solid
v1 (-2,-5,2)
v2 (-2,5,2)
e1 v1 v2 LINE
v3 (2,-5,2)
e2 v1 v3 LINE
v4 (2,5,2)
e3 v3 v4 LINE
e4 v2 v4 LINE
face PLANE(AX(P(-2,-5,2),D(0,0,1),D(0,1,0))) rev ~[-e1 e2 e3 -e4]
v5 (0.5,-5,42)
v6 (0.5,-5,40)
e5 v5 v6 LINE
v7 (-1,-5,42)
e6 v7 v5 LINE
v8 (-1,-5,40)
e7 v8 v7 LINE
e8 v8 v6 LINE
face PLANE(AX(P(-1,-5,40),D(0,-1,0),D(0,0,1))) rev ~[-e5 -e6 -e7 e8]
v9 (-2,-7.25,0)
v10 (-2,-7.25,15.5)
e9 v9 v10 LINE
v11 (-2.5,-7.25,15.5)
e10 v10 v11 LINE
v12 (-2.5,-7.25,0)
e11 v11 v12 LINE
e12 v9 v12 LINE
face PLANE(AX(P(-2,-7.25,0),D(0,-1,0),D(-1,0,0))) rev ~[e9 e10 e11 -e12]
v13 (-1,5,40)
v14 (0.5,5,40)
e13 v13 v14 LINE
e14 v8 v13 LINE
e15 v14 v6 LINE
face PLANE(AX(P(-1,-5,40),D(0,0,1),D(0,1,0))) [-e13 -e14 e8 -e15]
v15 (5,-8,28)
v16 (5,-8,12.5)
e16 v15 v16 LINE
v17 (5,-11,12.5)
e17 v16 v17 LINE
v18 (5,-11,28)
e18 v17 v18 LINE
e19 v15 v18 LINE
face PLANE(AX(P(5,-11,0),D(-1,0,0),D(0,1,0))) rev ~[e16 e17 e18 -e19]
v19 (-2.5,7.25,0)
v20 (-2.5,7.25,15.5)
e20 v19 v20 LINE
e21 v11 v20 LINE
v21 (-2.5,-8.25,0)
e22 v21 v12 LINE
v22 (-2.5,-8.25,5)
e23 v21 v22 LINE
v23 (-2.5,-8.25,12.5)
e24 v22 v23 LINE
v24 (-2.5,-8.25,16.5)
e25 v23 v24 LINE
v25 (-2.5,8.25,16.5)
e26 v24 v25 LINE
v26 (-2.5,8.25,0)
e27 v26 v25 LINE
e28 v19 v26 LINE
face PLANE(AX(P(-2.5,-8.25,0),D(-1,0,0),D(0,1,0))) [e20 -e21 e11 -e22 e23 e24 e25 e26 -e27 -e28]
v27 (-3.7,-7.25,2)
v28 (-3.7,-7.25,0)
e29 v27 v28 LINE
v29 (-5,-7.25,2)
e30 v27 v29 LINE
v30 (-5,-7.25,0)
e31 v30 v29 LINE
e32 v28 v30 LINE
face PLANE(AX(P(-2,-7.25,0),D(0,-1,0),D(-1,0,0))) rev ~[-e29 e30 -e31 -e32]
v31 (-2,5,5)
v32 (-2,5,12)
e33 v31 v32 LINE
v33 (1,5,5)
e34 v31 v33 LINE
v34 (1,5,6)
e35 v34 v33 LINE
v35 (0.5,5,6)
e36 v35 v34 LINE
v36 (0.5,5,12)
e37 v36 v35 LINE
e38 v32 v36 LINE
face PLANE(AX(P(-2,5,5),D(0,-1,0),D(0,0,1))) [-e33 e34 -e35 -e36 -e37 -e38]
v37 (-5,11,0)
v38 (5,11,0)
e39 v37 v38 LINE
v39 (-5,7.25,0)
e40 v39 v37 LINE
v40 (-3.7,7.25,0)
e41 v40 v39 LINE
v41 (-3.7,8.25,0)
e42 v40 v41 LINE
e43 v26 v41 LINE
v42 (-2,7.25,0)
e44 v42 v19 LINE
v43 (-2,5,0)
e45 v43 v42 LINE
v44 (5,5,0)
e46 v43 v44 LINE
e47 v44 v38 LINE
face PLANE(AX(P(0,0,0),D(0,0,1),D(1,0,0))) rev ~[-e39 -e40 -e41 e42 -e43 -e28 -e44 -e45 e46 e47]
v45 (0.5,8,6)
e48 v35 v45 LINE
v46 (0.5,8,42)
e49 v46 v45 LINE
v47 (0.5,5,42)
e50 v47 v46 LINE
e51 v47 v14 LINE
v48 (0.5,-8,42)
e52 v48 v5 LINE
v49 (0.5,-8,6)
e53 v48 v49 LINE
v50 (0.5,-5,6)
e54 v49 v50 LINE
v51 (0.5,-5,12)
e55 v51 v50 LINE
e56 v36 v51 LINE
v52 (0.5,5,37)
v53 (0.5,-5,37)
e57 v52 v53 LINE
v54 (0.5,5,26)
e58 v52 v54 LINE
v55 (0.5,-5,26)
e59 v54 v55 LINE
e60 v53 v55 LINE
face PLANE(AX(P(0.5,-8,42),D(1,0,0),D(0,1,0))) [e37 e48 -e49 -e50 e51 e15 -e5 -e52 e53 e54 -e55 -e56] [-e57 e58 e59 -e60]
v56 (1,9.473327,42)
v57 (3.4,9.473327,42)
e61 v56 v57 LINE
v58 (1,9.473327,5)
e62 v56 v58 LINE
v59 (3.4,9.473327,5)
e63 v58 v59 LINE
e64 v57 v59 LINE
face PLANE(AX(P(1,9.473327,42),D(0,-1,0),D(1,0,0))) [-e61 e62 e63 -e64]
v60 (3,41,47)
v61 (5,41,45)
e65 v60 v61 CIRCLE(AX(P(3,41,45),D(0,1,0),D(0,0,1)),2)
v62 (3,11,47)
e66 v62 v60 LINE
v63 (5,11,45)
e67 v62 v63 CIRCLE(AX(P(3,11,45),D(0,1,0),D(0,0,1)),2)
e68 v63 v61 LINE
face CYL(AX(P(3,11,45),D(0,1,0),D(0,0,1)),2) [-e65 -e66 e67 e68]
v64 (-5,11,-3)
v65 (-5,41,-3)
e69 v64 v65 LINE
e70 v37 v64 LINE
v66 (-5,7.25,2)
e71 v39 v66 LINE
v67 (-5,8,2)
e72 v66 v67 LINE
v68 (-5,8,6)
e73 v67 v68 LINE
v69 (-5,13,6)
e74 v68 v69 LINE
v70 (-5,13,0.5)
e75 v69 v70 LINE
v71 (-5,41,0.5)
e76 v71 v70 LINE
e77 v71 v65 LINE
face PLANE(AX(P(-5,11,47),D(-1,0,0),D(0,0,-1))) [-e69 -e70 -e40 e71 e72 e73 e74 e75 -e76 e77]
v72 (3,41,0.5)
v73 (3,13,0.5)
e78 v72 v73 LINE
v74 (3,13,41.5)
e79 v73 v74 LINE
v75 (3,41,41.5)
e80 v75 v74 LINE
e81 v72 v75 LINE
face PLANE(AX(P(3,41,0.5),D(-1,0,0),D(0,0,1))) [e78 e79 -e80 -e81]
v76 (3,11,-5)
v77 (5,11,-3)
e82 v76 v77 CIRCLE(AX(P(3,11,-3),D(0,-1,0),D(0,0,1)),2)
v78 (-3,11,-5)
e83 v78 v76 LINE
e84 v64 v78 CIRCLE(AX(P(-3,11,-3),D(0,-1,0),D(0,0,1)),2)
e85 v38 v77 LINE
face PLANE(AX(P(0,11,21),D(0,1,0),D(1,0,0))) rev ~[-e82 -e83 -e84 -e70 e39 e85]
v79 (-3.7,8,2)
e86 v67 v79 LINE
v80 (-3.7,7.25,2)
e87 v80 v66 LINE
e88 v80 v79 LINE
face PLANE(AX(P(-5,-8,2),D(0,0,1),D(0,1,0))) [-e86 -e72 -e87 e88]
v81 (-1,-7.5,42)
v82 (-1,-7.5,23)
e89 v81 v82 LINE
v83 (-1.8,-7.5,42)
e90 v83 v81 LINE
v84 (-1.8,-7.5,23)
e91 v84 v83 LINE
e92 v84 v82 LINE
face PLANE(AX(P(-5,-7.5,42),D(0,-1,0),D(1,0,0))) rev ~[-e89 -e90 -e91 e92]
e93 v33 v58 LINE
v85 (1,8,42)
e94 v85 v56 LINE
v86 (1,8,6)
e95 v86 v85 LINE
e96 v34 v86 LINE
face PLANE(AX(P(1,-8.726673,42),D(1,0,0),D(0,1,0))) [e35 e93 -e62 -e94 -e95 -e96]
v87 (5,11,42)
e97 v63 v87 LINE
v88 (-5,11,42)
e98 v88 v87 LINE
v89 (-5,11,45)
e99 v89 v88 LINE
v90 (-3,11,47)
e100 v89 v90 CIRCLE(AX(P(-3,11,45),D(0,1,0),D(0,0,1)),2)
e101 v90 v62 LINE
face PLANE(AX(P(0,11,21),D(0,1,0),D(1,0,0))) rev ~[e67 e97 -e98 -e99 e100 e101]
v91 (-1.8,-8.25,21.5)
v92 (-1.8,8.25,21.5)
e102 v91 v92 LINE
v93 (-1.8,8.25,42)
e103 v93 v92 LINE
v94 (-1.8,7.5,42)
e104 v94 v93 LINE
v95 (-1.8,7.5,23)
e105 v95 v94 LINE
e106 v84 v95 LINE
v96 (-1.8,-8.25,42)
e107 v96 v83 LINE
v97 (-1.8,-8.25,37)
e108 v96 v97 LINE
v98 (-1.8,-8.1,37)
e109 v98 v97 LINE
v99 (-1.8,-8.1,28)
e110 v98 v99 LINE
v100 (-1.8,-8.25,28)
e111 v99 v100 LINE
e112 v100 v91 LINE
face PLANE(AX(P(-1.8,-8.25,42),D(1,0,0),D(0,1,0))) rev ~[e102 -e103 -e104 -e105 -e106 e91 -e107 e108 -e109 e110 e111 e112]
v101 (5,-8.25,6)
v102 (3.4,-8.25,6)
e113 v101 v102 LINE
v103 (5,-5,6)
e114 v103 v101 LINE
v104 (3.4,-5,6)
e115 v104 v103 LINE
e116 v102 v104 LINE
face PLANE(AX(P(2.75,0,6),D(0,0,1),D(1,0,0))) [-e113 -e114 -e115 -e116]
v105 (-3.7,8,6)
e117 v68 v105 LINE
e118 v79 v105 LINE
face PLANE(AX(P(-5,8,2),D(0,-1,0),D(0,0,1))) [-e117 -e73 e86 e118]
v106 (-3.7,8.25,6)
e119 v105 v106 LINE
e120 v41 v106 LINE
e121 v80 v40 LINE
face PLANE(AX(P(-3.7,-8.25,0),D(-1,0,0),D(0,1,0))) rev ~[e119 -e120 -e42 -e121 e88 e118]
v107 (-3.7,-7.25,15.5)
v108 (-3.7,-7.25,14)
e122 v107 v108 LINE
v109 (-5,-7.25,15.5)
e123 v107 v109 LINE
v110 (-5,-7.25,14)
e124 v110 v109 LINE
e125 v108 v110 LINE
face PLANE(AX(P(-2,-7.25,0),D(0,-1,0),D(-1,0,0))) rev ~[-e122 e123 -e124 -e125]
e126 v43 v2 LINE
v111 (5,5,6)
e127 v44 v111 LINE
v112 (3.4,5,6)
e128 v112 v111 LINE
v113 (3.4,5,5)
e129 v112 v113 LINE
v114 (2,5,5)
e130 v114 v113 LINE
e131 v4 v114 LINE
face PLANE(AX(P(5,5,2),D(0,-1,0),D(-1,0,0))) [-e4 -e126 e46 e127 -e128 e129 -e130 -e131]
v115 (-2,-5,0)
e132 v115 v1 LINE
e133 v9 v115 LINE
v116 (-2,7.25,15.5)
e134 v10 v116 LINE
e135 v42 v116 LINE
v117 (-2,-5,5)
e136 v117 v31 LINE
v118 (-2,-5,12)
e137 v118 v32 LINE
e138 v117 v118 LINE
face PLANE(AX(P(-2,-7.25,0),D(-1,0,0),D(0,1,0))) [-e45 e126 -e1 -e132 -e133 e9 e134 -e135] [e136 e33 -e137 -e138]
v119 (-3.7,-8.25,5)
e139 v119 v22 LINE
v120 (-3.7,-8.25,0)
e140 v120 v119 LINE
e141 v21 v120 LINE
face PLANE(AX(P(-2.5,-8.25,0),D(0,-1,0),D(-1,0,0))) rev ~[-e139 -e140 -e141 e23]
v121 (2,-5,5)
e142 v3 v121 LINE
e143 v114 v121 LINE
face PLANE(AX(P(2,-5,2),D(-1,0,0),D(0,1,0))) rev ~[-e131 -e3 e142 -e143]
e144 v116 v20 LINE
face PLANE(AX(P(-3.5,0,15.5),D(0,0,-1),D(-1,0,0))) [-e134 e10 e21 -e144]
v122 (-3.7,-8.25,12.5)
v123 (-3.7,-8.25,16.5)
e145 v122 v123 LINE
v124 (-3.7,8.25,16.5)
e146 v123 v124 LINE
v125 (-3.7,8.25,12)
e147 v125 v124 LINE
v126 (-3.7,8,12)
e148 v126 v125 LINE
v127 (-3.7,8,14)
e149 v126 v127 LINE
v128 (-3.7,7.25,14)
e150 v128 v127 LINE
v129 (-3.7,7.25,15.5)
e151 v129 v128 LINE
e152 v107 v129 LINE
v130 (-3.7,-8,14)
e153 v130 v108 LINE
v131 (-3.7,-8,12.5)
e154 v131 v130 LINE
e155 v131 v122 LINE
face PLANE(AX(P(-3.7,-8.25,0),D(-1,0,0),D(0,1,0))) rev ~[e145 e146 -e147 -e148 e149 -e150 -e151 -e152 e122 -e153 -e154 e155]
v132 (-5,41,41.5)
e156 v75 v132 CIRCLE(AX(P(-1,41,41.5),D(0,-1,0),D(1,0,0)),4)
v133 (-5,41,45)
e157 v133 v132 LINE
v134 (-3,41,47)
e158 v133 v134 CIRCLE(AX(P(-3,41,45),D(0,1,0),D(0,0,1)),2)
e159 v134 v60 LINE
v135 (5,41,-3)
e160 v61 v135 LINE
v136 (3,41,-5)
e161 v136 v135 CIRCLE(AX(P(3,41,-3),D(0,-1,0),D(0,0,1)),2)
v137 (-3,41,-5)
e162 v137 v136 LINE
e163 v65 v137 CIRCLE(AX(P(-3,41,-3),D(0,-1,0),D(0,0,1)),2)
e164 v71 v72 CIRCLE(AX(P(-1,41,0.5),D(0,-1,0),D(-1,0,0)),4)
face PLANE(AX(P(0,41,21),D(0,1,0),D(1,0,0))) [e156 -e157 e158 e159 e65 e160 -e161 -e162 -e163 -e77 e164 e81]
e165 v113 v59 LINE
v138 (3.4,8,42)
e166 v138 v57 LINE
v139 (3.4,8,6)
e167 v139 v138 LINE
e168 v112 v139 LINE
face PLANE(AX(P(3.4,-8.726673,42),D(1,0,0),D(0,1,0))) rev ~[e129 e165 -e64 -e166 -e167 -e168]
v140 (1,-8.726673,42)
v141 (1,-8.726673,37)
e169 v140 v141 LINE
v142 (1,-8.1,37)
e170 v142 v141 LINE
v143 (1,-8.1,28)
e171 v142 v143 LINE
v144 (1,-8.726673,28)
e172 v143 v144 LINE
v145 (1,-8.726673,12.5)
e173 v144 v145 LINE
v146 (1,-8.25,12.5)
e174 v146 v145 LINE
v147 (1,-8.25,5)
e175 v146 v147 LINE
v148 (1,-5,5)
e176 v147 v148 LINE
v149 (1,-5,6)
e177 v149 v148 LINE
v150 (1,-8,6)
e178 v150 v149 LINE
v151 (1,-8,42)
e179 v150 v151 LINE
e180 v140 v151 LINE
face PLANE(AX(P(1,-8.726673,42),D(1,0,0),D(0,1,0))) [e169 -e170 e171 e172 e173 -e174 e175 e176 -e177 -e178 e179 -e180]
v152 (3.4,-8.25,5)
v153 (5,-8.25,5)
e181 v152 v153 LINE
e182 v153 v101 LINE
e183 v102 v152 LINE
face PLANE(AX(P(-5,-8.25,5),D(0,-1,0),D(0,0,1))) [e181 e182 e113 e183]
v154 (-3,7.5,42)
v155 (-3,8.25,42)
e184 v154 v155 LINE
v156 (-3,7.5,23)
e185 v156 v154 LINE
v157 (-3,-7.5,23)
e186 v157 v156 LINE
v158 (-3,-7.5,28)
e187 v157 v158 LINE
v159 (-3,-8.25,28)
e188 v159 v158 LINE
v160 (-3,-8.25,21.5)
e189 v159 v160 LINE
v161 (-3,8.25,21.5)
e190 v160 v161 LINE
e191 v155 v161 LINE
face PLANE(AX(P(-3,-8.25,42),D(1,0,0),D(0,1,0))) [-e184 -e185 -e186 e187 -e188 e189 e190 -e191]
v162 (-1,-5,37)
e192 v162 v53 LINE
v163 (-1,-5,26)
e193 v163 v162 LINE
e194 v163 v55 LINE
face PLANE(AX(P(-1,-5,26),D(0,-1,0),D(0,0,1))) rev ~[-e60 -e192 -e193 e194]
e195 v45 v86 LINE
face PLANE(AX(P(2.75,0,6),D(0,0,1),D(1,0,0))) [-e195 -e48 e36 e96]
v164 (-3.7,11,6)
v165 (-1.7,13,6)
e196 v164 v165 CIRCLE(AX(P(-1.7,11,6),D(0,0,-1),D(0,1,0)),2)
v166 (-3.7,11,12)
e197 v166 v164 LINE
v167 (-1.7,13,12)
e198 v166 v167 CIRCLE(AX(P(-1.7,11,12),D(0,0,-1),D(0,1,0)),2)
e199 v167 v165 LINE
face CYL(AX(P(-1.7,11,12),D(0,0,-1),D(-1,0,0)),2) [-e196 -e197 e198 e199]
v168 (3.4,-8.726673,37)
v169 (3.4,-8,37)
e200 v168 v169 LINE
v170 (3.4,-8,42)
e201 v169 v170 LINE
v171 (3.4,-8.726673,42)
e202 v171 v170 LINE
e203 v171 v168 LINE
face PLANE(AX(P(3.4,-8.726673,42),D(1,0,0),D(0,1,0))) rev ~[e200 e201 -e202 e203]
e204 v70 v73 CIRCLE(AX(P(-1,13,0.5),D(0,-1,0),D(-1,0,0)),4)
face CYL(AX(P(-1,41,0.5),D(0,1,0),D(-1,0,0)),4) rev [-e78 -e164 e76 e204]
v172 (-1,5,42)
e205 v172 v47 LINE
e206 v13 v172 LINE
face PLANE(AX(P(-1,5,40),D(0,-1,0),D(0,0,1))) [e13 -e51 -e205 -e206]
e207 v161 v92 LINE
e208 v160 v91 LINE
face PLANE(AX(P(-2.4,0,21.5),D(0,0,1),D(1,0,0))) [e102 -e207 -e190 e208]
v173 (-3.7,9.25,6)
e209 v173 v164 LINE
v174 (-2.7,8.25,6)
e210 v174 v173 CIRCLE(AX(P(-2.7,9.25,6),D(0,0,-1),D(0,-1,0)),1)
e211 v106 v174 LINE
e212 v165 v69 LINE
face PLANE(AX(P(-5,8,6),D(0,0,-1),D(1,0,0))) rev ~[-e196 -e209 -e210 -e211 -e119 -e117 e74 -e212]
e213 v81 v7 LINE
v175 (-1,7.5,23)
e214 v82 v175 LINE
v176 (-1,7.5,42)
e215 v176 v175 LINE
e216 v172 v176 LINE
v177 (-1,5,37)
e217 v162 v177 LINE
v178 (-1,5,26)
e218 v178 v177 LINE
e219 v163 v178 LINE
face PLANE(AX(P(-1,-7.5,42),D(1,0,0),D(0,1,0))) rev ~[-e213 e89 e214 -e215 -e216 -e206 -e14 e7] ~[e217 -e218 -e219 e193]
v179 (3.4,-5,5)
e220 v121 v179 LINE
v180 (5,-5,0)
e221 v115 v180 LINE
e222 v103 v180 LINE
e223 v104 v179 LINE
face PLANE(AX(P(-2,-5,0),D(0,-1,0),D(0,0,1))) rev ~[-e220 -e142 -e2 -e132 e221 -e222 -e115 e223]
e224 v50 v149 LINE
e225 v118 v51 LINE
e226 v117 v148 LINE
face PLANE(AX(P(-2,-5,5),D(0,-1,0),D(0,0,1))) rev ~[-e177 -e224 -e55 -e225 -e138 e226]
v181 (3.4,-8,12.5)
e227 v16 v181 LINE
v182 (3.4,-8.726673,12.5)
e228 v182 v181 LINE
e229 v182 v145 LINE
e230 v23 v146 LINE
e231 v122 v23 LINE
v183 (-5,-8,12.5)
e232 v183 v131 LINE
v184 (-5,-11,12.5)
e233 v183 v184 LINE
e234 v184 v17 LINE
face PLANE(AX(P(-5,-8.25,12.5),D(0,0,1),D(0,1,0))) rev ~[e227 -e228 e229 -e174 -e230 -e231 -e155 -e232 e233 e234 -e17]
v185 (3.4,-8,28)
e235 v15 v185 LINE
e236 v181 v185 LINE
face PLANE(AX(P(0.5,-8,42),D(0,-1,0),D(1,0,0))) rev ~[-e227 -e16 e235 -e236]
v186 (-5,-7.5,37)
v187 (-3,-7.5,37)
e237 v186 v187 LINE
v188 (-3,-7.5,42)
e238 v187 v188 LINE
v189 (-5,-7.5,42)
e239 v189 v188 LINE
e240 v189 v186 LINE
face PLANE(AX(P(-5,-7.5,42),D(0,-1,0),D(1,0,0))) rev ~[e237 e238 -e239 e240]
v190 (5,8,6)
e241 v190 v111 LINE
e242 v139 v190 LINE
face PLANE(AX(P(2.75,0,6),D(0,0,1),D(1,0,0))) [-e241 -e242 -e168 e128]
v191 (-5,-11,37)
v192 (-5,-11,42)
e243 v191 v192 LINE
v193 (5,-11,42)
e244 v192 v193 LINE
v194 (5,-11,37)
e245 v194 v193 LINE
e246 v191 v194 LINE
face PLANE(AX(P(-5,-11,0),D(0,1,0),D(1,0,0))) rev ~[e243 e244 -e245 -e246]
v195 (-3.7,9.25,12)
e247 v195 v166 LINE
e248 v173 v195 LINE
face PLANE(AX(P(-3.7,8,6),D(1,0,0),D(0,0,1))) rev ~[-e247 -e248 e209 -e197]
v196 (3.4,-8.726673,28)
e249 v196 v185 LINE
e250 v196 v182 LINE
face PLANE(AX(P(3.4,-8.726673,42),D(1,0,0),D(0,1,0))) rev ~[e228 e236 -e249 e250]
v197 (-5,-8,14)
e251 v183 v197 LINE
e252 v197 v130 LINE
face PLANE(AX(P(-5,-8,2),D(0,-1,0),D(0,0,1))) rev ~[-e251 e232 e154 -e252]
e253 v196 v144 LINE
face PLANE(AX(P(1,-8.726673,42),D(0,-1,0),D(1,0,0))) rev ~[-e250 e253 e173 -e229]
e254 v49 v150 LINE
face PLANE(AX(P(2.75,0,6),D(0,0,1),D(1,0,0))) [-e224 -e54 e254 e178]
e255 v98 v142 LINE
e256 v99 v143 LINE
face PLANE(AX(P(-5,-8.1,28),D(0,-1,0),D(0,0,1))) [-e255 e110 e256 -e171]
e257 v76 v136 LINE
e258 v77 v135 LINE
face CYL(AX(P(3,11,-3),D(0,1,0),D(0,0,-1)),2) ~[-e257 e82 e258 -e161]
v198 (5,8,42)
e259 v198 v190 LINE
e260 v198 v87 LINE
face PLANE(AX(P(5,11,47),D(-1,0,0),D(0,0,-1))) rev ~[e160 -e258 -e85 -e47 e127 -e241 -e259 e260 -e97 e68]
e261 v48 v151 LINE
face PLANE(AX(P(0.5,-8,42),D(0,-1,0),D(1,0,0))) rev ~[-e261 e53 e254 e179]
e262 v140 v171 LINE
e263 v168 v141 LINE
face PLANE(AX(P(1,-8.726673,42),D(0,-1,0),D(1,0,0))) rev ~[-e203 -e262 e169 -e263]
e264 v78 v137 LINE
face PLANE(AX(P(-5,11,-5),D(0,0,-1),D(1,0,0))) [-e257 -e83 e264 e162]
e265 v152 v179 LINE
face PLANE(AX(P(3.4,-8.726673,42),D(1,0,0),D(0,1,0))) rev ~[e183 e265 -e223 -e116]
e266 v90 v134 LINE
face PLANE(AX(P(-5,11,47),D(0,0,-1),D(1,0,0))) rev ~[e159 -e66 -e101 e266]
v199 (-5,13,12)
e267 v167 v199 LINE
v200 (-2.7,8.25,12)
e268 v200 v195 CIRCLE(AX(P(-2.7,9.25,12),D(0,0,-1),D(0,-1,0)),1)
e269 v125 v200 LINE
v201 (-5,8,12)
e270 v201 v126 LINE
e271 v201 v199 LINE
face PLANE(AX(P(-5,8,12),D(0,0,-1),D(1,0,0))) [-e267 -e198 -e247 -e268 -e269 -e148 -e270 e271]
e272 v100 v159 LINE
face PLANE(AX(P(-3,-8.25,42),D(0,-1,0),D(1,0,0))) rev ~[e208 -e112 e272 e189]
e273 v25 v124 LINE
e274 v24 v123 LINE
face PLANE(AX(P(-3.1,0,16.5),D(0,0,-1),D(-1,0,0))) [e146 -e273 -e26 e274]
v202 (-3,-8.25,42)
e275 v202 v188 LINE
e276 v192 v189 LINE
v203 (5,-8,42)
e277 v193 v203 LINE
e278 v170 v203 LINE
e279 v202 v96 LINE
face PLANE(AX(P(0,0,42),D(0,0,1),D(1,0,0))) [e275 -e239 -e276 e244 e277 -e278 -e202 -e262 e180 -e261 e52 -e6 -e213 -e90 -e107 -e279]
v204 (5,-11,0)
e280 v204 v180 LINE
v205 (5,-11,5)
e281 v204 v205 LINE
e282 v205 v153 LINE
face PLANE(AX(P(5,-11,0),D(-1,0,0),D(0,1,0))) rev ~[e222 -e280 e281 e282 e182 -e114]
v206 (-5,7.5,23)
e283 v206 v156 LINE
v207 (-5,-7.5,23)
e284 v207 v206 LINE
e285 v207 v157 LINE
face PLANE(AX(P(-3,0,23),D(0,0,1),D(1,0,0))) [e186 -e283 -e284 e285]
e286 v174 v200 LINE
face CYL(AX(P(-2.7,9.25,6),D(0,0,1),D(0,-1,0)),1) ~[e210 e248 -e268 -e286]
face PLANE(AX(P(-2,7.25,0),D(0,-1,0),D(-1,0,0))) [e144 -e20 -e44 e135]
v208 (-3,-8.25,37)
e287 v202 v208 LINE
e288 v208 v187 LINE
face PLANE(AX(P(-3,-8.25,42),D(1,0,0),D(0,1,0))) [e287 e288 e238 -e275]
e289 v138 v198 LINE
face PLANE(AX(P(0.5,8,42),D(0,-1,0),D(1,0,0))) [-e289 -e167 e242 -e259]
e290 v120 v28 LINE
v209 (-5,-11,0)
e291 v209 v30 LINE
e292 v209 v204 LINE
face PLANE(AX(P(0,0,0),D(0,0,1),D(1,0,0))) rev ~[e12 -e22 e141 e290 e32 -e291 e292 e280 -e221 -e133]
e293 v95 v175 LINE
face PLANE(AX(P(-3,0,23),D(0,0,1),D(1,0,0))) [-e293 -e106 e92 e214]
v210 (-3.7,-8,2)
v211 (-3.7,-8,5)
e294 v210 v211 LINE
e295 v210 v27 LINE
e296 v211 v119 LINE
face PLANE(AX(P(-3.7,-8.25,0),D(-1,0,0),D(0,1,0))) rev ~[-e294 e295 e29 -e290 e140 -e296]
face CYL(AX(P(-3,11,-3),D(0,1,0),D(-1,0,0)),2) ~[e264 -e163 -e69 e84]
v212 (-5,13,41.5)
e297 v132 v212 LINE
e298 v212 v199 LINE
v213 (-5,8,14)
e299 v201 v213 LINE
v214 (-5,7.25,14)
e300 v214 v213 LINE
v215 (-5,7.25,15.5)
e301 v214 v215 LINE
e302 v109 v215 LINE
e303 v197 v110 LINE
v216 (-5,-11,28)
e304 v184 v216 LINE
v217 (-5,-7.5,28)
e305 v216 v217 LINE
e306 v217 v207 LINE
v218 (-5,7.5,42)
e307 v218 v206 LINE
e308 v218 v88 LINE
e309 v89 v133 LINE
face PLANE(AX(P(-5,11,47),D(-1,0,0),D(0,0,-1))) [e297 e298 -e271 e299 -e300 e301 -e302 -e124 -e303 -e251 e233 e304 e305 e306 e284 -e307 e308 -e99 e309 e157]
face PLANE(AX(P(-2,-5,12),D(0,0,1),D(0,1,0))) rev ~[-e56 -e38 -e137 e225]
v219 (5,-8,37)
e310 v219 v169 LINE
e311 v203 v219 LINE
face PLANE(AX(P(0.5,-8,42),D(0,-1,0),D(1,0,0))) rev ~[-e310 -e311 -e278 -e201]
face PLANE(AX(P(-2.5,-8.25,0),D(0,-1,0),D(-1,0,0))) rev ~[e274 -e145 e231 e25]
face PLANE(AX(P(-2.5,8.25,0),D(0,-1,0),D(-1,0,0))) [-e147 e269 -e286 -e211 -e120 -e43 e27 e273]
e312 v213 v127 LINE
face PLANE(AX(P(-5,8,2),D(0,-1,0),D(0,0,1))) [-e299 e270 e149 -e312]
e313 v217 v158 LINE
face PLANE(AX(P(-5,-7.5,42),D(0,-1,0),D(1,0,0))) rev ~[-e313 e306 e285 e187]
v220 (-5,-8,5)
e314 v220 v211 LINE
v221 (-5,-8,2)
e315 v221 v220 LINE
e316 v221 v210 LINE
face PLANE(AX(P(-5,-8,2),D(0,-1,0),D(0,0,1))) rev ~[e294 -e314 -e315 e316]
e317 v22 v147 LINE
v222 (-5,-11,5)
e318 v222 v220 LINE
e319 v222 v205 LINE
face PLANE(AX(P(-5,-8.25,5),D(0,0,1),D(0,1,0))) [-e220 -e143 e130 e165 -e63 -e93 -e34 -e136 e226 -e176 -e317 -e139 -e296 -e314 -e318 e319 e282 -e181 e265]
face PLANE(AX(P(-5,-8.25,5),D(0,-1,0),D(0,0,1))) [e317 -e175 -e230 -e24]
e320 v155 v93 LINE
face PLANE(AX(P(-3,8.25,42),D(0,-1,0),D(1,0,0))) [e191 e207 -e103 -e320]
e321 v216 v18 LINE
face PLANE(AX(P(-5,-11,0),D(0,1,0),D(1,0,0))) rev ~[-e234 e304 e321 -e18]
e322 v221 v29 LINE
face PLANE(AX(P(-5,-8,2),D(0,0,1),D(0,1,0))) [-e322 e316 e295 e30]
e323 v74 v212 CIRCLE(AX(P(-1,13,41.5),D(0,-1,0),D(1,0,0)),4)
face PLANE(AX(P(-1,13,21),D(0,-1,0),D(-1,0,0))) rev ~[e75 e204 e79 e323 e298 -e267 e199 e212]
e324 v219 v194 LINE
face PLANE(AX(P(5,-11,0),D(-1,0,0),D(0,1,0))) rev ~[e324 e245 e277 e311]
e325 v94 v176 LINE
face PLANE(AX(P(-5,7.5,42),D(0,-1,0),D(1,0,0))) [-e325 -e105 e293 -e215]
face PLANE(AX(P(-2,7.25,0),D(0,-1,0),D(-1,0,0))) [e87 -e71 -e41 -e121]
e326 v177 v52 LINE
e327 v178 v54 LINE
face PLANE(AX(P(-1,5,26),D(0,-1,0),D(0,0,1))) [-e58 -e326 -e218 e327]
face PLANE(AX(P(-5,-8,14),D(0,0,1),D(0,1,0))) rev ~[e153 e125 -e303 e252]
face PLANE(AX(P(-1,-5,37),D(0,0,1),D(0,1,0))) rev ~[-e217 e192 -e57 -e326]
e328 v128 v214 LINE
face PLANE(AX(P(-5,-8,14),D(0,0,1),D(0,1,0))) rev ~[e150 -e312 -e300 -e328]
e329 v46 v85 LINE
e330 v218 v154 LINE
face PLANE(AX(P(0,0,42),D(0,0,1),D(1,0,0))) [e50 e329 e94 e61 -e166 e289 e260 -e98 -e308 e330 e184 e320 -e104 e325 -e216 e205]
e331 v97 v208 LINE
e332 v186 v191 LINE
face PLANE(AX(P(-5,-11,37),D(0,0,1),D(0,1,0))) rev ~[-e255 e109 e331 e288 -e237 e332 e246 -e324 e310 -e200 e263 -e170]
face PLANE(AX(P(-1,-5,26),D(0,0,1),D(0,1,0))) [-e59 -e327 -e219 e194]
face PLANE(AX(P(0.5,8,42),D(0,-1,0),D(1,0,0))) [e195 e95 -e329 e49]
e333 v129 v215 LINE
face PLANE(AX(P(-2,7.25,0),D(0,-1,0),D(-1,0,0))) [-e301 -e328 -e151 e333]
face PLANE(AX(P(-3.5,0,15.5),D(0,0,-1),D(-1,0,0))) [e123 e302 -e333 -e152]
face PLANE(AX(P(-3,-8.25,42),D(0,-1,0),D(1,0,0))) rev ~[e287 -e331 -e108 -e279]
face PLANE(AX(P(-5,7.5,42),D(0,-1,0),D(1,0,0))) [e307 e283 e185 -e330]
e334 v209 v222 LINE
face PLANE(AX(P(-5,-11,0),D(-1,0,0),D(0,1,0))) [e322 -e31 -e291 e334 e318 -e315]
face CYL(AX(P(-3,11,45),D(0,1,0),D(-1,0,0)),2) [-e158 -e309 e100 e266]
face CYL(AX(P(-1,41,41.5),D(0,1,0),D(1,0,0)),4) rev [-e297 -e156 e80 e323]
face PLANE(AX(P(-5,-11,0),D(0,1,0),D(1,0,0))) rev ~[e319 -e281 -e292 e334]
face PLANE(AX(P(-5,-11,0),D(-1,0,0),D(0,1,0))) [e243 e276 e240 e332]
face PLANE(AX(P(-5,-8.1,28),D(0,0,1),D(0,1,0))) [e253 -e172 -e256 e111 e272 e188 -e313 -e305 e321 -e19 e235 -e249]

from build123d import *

# Parameters (mm, degrees)
SKETCH1_W           = 10
SKETCH1_H           = 22
BOSS_EXTRUDE1_DEPTH = 42
SKETCH2_W           = 4.5
SKETCH2_H           = 16
CUT_EXTRUDE1_DEPTH  = 36
SKETCH4_W           = 2.4
SKETCH4_H           = 18.2
CUT_EXTRUDE3_DEPTH  = 37
SKETCH5_W           = 4
SKETCH5_H           = 15
CUT_EXTRUDE4_DEPTH  = 19
SKETCH6_W           = 1.2
SKETCH6_H           = 16.5
CUT_EXTRUDE5_DEPTH  = 20.5
SKETCH8_W           = 3
SKETCH8_H           = 14.5
CUT_EXTRUDE6_DEPTH  = 15.5
SKETCH9_W           = 1.2
SKETCH9_H           = 16.5
CUT_EXTRUDE7_DEPTH  = 16.5
SKETCH10_W          = 12
SKETCH10_H          = 16
CUT_EXTRUDE8_DEPTH  = 2.5
SKETCH12_W          = 9
SKETCH12_H          = 2.9
SKETCH12_W_2        = 7.5
SKETCH12_H_2        = 2.75
CUT_EXTRUDE11_DEPTH = 10
CUT_EXTRUDE12_REACH = 12
SKETCH13_W          = 9
SKETCH13_H          = 0.6
SKETCH13_W_2        = 7.5
SKETCH13_H_2        = 0.25
CUT_EXTRUDE13_REACH = 12
SKETCH14_W          = 9
SKETCH14_H          = 0.1
SKETCH14_W_2        = 6.5
SKETCH14_H_2        = 0.25
SKETCH15_W          = 2
SKETCH15_H          = 10
SKETCH15_W_2        = 11
CUT_EXTRUDE14_DEPTH = 7
SKETCH16_W          = 2
SKETCH16_H          = 10
SKETCH16_W_2        = 7
CUT_EXTRUDE15_DEPTH = 10
SKETCH17_W          = 3
SKETCH17_H          = 10
CUT_EXTRUDE16_DEPTH = 10
SKETCH18_W          = 10
SKETCH18_H          = 52
BOSS_EXTRUDE3_DEPTH = 30
SKETCH21_W          = 1.3
SKETCH21_H          = 6
CUT_EXTRUDE18_DEPTH = 28
FILLET1_R           = 2
FILLET3_R           = 1
CUT_EXTRUDE19_DEPTH = 28
FILLET4_R           = 2


with BuildPart() as part:
    # Sketch1 → Boss-Extrude1 (new body)
    with BuildSketch(Plane.XY):
        Rectangle(SKETCH1_W, SKETCH1_H)
    extrude(amount=BOSS_EXTRUDE1_DEPTH)

    # Sketch2 → Cut-Extrude1 (cut)
    with BuildSketch(Plane.XY.offset(42)):
        with Locations((2.75, 0)):
            Rectangle(SKETCH2_W, SKETCH2_H)
    extrude(amount=-CUT_EXTRUDE1_DEPTH, mode=Mode.SUBTRACT)

    # Sketch4 → Cut-Extrude3 (cut)
    with BuildSketch(Plane.XY.offset(42)):
        with Locations((2.2, 0.373327294)):
            Rectangle(SKETCH4_W, SKETCH4_H)
    extrude(amount=-CUT_EXTRUDE3_DEPTH, mode=Mode.SUBTRACT)

    # Sketch5 → Cut-Extrude4 (cut)
    with BuildSketch(Plane.XY.offset(42)):
        with Locations((-3, 0)):
            Rectangle(SKETCH5_W, SKETCH5_H)
    extrude(amount=-CUT_EXTRUDE4_DEPTH, mode=Mode.SUBTRACT)

    # Sketch6 → Cut-Extrude5 (cut)
    with BuildSketch(Plane.XY.offset(42)):
        with Locations((-2.4, 0)):
            Rectangle(SKETCH6_W, SKETCH6_H)
    extrude(amount=-CUT_EXTRUDE5_DEPTH, mode=Mode.SUBTRACT)

    # Sketch8 → Cut-Extrude6 (cut)
    with BuildSketch(Plane(origin=(0, 0, 0), x_dir=(-1, 0, 0), z_dir=(0, 0, -1))):
        with Locations((3.5, 0)):
            Rectangle(SKETCH8_W, SKETCH8_H)
    extrude(amount=-CUT_EXTRUDE6_DEPTH, mode=Mode.SUBTRACT)

    # Sketch9 → Cut-Extrude7 (cut)
    with BuildSketch(Plane(origin=(0, 0, 0), x_dir=(-1, 0, 0), z_dir=(0, 0, -1))):
        with Locations((3.1, 0)):
            Rectangle(SKETCH9_W, SKETCH9_H)
    extrude(amount=-CUT_EXTRUDE7_DEPTH, mode=Mode.SUBTRACT)

    # Sketch10 → Cut-Extrude8 (cut)
    with BuildSketch(Plane.ZY.offset(5)):
        with Locations((8, 0)):
            Rectangle(SKETCH10_W, SKETCH10_H)
    extrude(amount=-CUT_EXTRUDE8_DEPTH, mode=Mode.SUBTRACT)

    # Sketch12 → Cut-Extrude11 (cut)
    with BuildSketch(Plane.ZY.offset(5)):
        with Locations((32.5, -9.55)):
            Rectangle(SKETCH12_W, SKETCH12_H)
        with Locations((8.75, -9.625)):
            Rectangle(SKETCH12_W_2, SKETCH12_H_2)
    extrude(amount=-CUT_EXTRUDE11_DEPTH, mode=Mode.SUBTRACT)

    # Sketch13 → Cut-Extrude12 (cut, up to next)
    with BuildSketch(Plane.ZY.offset(5), mode=Mode.PRIVATE) as cut_extrude12_sk1:
        with Locations((32.5, -7.8)):
            Rectangle(SKETCH13_W, SKETCH13_H)
    cut_extrude12_tool1 = extrude(cut_extrude12_sk1.sketch, amount=-CUT_EXTRUDE12_REACH, mode=Mode.PRIVATE) & part.part
    add(cut_extrude12_tool1.solids().sort_by_distance((-5, -7.8, 32.5))[0], mode=Mode.SUBTRACT)
    # Sketch13 → Cut-Extrude12 (cut, up to next)
    with BuildSketch(Plane.ZY.offset(5), mode=Mode.PRIVATE) as cut_extrude12_sk2:
        with Locations((8.75, -8.125)):
            Rectangle(SKETCH13_W_2, SKETCH13_H_2)
    cut_extrude12_tool2 = extrude(cut_extrude12_sk2.sketch, amount=-CUT_EXTRUDE12_REACH, mode=Mode.PRIVATE) & part.part
    add(cut_extrude12_tool2.solids().sort_by_distance((-5, -8.125, 8.75))[0], mode=Mode.SUBTRACT)

    # Sketch14 → Cut-Extrude13 (cut, up to next)
    with BuildSketch(Plane(origin=(5, 0, 0), x_dir=(0, 0, -1), z_dir=(1, 0, 0)), mode=Mode.PRIVATE) as cut_extrude13_sk1:
        with Locations((-32.5, -8.05)):
            Rectangle(SKETCH14_W, SKETCH14_H)
    cut_extrude13_tool1 = extrude(cut_extrude13_sk1.sketch, amount=-CUT_EXTRUDE13_REACH, mode=Mode.PRIVATE) & part.part
    add(cut_extrude13_tool1.solids().sort_by_distance((5, -8.05, 32.5))[0], mode=Mode.SUBTRACT)
    # Sketch14 → Cut-Extrude13 (cut, up to next)
    with BuildSketch(Plane(origin=(5, 0, 0), x_dir=(0, 0, -1), z_dir=(1, 0, 0)), mode=Mode.PRIVATE) as cut_extrude13_sk2:
        with Locations((-9.25, -8.125)):
            Rectangle(SKETCH14_W_2, SKETCH14_H_2)
    cut_extrude13_tool2 = extrude(cut_extrude13_sk2.sketch, amount=-CUT_EXTRUDE13_REACH, mode=Mode.PRIVATE) & part.part
    add(cut_extrude13_tool2.solids().sort_by_distance((5, -8.125, 9.25))[0], mode=Mode.SUBTRACT)

    # Sketch15 → Cut-Extrude14 (cut, through all)
    with BuildSketch(Plane.ZY.offset(1)):
        with Locations((41, 0)):
            Rectangle(SKETCH15_W, SKETCH15_H)
        with Locations((31.5, 0)):
            Rectangle(SKETCH15_W_2, SKETCH15_H)
    extrude(amount=-CUT_EXTRUDE14_DEPTH, mode=Mode.SUBTRACT)

    # Sketch16 → Cut-Extrude15 (cut)
    with BuildSketch(Plane.ZY.offset(2)):
        with Locations((1, 0)):
            Rectangle(SKETCH16_W, SKETCH16_H)
        with Locations((8.5, 0)):
            Rectangle(SKETCH16_W_2, SKETCH16_H)
    extrude(amount=-CUT_EXTRUDE15_DEPTH, mode=Mode.SUBTRACT)

    # Sketch17 → Cut-Extrude16 (cut)
    with BuildSketch(Plane(origin=(0, 0, 2), x_dir=(-1, 0, 0), z_dir=(0, 0, -1))):
        with Locations((-3.5, 0)):
            Rectangle(SKETCH17_W, SKETCH17_H)
    extrude(amount=-CUT_EXTRUDE16_DEPTH, mode=Mode.SUBTRACT)

    # Sketch18 → Boss-Extrude3 (add)
    with BuildSketch(Plane(origin=(0, 11, 0), x_dir=(1, 0, 0), z_dir=(0, 1, 0))):
        with Locations((0, -21)):
            Rectangle(SKETCH18_W, SKETCH18_H)
    extrude(amount=BOSS_EXTRUDE3_DEPTH)

    # Sketch21 → Cut-Extrude18 (cut)
    with BuildSketch(Plane.XZ.offset(-8)):
        with Locations((-4.35, 9)):
            Rectangle(SKETCH21_W, SKETCH21_H)
    extrude(amount=-CUT_EXTRUDE18_DEPTH, mode=Mode.SUBTRACT)

    # Fillet1
    fillet1_edges = [part.edges().sort_by_distance(p)[0] for p in [
        (5, 26, -5),
        (-5, 26, -5),
        (5, 26, 47),
        (-5, 26, 47),
    ]]
    fillet(fillet1_edges, radius=FILLET1_R)

    # Fillet3
    fillet3_edges = [part.edges().sort_by_distance(p)[0] for p in [
        (-3.7, 8.25, 9),
    ]]
    fillet(fillet3_edges, radius=FILLET3_R)

    # Sketch22 → Cut-Extrude19 (cut)
    with BuildSketch(Plane(origin=(0, 41, 0), x_dir=(1, 0, 0), z_dir=(0, 1, 0))):
        with BuildLine():
            Line((-5, -41.5), (-5, -0.5))
            ThreePointArc((-5, -0.5), (-1, 3.5), (3, -0.5))
            Line((3, -0.5), (3, -41.5))
            ThreePointArc((3, -41.5), (-1, -45.5), (-5, -41.5))
        make_face()
    extrude(amount=-CUT_EXTRUDE19_DEPTH, mode=Mode.SUBTRACT)

    # Fillet4
    fillet4_edges = [part.edges().sort_by_distance(p)[0] for p in [
        (-3.7, 13, 9),
    ]]
    fillet(fillet4_edges, radius=FILLET4_R)


solid = part.part
